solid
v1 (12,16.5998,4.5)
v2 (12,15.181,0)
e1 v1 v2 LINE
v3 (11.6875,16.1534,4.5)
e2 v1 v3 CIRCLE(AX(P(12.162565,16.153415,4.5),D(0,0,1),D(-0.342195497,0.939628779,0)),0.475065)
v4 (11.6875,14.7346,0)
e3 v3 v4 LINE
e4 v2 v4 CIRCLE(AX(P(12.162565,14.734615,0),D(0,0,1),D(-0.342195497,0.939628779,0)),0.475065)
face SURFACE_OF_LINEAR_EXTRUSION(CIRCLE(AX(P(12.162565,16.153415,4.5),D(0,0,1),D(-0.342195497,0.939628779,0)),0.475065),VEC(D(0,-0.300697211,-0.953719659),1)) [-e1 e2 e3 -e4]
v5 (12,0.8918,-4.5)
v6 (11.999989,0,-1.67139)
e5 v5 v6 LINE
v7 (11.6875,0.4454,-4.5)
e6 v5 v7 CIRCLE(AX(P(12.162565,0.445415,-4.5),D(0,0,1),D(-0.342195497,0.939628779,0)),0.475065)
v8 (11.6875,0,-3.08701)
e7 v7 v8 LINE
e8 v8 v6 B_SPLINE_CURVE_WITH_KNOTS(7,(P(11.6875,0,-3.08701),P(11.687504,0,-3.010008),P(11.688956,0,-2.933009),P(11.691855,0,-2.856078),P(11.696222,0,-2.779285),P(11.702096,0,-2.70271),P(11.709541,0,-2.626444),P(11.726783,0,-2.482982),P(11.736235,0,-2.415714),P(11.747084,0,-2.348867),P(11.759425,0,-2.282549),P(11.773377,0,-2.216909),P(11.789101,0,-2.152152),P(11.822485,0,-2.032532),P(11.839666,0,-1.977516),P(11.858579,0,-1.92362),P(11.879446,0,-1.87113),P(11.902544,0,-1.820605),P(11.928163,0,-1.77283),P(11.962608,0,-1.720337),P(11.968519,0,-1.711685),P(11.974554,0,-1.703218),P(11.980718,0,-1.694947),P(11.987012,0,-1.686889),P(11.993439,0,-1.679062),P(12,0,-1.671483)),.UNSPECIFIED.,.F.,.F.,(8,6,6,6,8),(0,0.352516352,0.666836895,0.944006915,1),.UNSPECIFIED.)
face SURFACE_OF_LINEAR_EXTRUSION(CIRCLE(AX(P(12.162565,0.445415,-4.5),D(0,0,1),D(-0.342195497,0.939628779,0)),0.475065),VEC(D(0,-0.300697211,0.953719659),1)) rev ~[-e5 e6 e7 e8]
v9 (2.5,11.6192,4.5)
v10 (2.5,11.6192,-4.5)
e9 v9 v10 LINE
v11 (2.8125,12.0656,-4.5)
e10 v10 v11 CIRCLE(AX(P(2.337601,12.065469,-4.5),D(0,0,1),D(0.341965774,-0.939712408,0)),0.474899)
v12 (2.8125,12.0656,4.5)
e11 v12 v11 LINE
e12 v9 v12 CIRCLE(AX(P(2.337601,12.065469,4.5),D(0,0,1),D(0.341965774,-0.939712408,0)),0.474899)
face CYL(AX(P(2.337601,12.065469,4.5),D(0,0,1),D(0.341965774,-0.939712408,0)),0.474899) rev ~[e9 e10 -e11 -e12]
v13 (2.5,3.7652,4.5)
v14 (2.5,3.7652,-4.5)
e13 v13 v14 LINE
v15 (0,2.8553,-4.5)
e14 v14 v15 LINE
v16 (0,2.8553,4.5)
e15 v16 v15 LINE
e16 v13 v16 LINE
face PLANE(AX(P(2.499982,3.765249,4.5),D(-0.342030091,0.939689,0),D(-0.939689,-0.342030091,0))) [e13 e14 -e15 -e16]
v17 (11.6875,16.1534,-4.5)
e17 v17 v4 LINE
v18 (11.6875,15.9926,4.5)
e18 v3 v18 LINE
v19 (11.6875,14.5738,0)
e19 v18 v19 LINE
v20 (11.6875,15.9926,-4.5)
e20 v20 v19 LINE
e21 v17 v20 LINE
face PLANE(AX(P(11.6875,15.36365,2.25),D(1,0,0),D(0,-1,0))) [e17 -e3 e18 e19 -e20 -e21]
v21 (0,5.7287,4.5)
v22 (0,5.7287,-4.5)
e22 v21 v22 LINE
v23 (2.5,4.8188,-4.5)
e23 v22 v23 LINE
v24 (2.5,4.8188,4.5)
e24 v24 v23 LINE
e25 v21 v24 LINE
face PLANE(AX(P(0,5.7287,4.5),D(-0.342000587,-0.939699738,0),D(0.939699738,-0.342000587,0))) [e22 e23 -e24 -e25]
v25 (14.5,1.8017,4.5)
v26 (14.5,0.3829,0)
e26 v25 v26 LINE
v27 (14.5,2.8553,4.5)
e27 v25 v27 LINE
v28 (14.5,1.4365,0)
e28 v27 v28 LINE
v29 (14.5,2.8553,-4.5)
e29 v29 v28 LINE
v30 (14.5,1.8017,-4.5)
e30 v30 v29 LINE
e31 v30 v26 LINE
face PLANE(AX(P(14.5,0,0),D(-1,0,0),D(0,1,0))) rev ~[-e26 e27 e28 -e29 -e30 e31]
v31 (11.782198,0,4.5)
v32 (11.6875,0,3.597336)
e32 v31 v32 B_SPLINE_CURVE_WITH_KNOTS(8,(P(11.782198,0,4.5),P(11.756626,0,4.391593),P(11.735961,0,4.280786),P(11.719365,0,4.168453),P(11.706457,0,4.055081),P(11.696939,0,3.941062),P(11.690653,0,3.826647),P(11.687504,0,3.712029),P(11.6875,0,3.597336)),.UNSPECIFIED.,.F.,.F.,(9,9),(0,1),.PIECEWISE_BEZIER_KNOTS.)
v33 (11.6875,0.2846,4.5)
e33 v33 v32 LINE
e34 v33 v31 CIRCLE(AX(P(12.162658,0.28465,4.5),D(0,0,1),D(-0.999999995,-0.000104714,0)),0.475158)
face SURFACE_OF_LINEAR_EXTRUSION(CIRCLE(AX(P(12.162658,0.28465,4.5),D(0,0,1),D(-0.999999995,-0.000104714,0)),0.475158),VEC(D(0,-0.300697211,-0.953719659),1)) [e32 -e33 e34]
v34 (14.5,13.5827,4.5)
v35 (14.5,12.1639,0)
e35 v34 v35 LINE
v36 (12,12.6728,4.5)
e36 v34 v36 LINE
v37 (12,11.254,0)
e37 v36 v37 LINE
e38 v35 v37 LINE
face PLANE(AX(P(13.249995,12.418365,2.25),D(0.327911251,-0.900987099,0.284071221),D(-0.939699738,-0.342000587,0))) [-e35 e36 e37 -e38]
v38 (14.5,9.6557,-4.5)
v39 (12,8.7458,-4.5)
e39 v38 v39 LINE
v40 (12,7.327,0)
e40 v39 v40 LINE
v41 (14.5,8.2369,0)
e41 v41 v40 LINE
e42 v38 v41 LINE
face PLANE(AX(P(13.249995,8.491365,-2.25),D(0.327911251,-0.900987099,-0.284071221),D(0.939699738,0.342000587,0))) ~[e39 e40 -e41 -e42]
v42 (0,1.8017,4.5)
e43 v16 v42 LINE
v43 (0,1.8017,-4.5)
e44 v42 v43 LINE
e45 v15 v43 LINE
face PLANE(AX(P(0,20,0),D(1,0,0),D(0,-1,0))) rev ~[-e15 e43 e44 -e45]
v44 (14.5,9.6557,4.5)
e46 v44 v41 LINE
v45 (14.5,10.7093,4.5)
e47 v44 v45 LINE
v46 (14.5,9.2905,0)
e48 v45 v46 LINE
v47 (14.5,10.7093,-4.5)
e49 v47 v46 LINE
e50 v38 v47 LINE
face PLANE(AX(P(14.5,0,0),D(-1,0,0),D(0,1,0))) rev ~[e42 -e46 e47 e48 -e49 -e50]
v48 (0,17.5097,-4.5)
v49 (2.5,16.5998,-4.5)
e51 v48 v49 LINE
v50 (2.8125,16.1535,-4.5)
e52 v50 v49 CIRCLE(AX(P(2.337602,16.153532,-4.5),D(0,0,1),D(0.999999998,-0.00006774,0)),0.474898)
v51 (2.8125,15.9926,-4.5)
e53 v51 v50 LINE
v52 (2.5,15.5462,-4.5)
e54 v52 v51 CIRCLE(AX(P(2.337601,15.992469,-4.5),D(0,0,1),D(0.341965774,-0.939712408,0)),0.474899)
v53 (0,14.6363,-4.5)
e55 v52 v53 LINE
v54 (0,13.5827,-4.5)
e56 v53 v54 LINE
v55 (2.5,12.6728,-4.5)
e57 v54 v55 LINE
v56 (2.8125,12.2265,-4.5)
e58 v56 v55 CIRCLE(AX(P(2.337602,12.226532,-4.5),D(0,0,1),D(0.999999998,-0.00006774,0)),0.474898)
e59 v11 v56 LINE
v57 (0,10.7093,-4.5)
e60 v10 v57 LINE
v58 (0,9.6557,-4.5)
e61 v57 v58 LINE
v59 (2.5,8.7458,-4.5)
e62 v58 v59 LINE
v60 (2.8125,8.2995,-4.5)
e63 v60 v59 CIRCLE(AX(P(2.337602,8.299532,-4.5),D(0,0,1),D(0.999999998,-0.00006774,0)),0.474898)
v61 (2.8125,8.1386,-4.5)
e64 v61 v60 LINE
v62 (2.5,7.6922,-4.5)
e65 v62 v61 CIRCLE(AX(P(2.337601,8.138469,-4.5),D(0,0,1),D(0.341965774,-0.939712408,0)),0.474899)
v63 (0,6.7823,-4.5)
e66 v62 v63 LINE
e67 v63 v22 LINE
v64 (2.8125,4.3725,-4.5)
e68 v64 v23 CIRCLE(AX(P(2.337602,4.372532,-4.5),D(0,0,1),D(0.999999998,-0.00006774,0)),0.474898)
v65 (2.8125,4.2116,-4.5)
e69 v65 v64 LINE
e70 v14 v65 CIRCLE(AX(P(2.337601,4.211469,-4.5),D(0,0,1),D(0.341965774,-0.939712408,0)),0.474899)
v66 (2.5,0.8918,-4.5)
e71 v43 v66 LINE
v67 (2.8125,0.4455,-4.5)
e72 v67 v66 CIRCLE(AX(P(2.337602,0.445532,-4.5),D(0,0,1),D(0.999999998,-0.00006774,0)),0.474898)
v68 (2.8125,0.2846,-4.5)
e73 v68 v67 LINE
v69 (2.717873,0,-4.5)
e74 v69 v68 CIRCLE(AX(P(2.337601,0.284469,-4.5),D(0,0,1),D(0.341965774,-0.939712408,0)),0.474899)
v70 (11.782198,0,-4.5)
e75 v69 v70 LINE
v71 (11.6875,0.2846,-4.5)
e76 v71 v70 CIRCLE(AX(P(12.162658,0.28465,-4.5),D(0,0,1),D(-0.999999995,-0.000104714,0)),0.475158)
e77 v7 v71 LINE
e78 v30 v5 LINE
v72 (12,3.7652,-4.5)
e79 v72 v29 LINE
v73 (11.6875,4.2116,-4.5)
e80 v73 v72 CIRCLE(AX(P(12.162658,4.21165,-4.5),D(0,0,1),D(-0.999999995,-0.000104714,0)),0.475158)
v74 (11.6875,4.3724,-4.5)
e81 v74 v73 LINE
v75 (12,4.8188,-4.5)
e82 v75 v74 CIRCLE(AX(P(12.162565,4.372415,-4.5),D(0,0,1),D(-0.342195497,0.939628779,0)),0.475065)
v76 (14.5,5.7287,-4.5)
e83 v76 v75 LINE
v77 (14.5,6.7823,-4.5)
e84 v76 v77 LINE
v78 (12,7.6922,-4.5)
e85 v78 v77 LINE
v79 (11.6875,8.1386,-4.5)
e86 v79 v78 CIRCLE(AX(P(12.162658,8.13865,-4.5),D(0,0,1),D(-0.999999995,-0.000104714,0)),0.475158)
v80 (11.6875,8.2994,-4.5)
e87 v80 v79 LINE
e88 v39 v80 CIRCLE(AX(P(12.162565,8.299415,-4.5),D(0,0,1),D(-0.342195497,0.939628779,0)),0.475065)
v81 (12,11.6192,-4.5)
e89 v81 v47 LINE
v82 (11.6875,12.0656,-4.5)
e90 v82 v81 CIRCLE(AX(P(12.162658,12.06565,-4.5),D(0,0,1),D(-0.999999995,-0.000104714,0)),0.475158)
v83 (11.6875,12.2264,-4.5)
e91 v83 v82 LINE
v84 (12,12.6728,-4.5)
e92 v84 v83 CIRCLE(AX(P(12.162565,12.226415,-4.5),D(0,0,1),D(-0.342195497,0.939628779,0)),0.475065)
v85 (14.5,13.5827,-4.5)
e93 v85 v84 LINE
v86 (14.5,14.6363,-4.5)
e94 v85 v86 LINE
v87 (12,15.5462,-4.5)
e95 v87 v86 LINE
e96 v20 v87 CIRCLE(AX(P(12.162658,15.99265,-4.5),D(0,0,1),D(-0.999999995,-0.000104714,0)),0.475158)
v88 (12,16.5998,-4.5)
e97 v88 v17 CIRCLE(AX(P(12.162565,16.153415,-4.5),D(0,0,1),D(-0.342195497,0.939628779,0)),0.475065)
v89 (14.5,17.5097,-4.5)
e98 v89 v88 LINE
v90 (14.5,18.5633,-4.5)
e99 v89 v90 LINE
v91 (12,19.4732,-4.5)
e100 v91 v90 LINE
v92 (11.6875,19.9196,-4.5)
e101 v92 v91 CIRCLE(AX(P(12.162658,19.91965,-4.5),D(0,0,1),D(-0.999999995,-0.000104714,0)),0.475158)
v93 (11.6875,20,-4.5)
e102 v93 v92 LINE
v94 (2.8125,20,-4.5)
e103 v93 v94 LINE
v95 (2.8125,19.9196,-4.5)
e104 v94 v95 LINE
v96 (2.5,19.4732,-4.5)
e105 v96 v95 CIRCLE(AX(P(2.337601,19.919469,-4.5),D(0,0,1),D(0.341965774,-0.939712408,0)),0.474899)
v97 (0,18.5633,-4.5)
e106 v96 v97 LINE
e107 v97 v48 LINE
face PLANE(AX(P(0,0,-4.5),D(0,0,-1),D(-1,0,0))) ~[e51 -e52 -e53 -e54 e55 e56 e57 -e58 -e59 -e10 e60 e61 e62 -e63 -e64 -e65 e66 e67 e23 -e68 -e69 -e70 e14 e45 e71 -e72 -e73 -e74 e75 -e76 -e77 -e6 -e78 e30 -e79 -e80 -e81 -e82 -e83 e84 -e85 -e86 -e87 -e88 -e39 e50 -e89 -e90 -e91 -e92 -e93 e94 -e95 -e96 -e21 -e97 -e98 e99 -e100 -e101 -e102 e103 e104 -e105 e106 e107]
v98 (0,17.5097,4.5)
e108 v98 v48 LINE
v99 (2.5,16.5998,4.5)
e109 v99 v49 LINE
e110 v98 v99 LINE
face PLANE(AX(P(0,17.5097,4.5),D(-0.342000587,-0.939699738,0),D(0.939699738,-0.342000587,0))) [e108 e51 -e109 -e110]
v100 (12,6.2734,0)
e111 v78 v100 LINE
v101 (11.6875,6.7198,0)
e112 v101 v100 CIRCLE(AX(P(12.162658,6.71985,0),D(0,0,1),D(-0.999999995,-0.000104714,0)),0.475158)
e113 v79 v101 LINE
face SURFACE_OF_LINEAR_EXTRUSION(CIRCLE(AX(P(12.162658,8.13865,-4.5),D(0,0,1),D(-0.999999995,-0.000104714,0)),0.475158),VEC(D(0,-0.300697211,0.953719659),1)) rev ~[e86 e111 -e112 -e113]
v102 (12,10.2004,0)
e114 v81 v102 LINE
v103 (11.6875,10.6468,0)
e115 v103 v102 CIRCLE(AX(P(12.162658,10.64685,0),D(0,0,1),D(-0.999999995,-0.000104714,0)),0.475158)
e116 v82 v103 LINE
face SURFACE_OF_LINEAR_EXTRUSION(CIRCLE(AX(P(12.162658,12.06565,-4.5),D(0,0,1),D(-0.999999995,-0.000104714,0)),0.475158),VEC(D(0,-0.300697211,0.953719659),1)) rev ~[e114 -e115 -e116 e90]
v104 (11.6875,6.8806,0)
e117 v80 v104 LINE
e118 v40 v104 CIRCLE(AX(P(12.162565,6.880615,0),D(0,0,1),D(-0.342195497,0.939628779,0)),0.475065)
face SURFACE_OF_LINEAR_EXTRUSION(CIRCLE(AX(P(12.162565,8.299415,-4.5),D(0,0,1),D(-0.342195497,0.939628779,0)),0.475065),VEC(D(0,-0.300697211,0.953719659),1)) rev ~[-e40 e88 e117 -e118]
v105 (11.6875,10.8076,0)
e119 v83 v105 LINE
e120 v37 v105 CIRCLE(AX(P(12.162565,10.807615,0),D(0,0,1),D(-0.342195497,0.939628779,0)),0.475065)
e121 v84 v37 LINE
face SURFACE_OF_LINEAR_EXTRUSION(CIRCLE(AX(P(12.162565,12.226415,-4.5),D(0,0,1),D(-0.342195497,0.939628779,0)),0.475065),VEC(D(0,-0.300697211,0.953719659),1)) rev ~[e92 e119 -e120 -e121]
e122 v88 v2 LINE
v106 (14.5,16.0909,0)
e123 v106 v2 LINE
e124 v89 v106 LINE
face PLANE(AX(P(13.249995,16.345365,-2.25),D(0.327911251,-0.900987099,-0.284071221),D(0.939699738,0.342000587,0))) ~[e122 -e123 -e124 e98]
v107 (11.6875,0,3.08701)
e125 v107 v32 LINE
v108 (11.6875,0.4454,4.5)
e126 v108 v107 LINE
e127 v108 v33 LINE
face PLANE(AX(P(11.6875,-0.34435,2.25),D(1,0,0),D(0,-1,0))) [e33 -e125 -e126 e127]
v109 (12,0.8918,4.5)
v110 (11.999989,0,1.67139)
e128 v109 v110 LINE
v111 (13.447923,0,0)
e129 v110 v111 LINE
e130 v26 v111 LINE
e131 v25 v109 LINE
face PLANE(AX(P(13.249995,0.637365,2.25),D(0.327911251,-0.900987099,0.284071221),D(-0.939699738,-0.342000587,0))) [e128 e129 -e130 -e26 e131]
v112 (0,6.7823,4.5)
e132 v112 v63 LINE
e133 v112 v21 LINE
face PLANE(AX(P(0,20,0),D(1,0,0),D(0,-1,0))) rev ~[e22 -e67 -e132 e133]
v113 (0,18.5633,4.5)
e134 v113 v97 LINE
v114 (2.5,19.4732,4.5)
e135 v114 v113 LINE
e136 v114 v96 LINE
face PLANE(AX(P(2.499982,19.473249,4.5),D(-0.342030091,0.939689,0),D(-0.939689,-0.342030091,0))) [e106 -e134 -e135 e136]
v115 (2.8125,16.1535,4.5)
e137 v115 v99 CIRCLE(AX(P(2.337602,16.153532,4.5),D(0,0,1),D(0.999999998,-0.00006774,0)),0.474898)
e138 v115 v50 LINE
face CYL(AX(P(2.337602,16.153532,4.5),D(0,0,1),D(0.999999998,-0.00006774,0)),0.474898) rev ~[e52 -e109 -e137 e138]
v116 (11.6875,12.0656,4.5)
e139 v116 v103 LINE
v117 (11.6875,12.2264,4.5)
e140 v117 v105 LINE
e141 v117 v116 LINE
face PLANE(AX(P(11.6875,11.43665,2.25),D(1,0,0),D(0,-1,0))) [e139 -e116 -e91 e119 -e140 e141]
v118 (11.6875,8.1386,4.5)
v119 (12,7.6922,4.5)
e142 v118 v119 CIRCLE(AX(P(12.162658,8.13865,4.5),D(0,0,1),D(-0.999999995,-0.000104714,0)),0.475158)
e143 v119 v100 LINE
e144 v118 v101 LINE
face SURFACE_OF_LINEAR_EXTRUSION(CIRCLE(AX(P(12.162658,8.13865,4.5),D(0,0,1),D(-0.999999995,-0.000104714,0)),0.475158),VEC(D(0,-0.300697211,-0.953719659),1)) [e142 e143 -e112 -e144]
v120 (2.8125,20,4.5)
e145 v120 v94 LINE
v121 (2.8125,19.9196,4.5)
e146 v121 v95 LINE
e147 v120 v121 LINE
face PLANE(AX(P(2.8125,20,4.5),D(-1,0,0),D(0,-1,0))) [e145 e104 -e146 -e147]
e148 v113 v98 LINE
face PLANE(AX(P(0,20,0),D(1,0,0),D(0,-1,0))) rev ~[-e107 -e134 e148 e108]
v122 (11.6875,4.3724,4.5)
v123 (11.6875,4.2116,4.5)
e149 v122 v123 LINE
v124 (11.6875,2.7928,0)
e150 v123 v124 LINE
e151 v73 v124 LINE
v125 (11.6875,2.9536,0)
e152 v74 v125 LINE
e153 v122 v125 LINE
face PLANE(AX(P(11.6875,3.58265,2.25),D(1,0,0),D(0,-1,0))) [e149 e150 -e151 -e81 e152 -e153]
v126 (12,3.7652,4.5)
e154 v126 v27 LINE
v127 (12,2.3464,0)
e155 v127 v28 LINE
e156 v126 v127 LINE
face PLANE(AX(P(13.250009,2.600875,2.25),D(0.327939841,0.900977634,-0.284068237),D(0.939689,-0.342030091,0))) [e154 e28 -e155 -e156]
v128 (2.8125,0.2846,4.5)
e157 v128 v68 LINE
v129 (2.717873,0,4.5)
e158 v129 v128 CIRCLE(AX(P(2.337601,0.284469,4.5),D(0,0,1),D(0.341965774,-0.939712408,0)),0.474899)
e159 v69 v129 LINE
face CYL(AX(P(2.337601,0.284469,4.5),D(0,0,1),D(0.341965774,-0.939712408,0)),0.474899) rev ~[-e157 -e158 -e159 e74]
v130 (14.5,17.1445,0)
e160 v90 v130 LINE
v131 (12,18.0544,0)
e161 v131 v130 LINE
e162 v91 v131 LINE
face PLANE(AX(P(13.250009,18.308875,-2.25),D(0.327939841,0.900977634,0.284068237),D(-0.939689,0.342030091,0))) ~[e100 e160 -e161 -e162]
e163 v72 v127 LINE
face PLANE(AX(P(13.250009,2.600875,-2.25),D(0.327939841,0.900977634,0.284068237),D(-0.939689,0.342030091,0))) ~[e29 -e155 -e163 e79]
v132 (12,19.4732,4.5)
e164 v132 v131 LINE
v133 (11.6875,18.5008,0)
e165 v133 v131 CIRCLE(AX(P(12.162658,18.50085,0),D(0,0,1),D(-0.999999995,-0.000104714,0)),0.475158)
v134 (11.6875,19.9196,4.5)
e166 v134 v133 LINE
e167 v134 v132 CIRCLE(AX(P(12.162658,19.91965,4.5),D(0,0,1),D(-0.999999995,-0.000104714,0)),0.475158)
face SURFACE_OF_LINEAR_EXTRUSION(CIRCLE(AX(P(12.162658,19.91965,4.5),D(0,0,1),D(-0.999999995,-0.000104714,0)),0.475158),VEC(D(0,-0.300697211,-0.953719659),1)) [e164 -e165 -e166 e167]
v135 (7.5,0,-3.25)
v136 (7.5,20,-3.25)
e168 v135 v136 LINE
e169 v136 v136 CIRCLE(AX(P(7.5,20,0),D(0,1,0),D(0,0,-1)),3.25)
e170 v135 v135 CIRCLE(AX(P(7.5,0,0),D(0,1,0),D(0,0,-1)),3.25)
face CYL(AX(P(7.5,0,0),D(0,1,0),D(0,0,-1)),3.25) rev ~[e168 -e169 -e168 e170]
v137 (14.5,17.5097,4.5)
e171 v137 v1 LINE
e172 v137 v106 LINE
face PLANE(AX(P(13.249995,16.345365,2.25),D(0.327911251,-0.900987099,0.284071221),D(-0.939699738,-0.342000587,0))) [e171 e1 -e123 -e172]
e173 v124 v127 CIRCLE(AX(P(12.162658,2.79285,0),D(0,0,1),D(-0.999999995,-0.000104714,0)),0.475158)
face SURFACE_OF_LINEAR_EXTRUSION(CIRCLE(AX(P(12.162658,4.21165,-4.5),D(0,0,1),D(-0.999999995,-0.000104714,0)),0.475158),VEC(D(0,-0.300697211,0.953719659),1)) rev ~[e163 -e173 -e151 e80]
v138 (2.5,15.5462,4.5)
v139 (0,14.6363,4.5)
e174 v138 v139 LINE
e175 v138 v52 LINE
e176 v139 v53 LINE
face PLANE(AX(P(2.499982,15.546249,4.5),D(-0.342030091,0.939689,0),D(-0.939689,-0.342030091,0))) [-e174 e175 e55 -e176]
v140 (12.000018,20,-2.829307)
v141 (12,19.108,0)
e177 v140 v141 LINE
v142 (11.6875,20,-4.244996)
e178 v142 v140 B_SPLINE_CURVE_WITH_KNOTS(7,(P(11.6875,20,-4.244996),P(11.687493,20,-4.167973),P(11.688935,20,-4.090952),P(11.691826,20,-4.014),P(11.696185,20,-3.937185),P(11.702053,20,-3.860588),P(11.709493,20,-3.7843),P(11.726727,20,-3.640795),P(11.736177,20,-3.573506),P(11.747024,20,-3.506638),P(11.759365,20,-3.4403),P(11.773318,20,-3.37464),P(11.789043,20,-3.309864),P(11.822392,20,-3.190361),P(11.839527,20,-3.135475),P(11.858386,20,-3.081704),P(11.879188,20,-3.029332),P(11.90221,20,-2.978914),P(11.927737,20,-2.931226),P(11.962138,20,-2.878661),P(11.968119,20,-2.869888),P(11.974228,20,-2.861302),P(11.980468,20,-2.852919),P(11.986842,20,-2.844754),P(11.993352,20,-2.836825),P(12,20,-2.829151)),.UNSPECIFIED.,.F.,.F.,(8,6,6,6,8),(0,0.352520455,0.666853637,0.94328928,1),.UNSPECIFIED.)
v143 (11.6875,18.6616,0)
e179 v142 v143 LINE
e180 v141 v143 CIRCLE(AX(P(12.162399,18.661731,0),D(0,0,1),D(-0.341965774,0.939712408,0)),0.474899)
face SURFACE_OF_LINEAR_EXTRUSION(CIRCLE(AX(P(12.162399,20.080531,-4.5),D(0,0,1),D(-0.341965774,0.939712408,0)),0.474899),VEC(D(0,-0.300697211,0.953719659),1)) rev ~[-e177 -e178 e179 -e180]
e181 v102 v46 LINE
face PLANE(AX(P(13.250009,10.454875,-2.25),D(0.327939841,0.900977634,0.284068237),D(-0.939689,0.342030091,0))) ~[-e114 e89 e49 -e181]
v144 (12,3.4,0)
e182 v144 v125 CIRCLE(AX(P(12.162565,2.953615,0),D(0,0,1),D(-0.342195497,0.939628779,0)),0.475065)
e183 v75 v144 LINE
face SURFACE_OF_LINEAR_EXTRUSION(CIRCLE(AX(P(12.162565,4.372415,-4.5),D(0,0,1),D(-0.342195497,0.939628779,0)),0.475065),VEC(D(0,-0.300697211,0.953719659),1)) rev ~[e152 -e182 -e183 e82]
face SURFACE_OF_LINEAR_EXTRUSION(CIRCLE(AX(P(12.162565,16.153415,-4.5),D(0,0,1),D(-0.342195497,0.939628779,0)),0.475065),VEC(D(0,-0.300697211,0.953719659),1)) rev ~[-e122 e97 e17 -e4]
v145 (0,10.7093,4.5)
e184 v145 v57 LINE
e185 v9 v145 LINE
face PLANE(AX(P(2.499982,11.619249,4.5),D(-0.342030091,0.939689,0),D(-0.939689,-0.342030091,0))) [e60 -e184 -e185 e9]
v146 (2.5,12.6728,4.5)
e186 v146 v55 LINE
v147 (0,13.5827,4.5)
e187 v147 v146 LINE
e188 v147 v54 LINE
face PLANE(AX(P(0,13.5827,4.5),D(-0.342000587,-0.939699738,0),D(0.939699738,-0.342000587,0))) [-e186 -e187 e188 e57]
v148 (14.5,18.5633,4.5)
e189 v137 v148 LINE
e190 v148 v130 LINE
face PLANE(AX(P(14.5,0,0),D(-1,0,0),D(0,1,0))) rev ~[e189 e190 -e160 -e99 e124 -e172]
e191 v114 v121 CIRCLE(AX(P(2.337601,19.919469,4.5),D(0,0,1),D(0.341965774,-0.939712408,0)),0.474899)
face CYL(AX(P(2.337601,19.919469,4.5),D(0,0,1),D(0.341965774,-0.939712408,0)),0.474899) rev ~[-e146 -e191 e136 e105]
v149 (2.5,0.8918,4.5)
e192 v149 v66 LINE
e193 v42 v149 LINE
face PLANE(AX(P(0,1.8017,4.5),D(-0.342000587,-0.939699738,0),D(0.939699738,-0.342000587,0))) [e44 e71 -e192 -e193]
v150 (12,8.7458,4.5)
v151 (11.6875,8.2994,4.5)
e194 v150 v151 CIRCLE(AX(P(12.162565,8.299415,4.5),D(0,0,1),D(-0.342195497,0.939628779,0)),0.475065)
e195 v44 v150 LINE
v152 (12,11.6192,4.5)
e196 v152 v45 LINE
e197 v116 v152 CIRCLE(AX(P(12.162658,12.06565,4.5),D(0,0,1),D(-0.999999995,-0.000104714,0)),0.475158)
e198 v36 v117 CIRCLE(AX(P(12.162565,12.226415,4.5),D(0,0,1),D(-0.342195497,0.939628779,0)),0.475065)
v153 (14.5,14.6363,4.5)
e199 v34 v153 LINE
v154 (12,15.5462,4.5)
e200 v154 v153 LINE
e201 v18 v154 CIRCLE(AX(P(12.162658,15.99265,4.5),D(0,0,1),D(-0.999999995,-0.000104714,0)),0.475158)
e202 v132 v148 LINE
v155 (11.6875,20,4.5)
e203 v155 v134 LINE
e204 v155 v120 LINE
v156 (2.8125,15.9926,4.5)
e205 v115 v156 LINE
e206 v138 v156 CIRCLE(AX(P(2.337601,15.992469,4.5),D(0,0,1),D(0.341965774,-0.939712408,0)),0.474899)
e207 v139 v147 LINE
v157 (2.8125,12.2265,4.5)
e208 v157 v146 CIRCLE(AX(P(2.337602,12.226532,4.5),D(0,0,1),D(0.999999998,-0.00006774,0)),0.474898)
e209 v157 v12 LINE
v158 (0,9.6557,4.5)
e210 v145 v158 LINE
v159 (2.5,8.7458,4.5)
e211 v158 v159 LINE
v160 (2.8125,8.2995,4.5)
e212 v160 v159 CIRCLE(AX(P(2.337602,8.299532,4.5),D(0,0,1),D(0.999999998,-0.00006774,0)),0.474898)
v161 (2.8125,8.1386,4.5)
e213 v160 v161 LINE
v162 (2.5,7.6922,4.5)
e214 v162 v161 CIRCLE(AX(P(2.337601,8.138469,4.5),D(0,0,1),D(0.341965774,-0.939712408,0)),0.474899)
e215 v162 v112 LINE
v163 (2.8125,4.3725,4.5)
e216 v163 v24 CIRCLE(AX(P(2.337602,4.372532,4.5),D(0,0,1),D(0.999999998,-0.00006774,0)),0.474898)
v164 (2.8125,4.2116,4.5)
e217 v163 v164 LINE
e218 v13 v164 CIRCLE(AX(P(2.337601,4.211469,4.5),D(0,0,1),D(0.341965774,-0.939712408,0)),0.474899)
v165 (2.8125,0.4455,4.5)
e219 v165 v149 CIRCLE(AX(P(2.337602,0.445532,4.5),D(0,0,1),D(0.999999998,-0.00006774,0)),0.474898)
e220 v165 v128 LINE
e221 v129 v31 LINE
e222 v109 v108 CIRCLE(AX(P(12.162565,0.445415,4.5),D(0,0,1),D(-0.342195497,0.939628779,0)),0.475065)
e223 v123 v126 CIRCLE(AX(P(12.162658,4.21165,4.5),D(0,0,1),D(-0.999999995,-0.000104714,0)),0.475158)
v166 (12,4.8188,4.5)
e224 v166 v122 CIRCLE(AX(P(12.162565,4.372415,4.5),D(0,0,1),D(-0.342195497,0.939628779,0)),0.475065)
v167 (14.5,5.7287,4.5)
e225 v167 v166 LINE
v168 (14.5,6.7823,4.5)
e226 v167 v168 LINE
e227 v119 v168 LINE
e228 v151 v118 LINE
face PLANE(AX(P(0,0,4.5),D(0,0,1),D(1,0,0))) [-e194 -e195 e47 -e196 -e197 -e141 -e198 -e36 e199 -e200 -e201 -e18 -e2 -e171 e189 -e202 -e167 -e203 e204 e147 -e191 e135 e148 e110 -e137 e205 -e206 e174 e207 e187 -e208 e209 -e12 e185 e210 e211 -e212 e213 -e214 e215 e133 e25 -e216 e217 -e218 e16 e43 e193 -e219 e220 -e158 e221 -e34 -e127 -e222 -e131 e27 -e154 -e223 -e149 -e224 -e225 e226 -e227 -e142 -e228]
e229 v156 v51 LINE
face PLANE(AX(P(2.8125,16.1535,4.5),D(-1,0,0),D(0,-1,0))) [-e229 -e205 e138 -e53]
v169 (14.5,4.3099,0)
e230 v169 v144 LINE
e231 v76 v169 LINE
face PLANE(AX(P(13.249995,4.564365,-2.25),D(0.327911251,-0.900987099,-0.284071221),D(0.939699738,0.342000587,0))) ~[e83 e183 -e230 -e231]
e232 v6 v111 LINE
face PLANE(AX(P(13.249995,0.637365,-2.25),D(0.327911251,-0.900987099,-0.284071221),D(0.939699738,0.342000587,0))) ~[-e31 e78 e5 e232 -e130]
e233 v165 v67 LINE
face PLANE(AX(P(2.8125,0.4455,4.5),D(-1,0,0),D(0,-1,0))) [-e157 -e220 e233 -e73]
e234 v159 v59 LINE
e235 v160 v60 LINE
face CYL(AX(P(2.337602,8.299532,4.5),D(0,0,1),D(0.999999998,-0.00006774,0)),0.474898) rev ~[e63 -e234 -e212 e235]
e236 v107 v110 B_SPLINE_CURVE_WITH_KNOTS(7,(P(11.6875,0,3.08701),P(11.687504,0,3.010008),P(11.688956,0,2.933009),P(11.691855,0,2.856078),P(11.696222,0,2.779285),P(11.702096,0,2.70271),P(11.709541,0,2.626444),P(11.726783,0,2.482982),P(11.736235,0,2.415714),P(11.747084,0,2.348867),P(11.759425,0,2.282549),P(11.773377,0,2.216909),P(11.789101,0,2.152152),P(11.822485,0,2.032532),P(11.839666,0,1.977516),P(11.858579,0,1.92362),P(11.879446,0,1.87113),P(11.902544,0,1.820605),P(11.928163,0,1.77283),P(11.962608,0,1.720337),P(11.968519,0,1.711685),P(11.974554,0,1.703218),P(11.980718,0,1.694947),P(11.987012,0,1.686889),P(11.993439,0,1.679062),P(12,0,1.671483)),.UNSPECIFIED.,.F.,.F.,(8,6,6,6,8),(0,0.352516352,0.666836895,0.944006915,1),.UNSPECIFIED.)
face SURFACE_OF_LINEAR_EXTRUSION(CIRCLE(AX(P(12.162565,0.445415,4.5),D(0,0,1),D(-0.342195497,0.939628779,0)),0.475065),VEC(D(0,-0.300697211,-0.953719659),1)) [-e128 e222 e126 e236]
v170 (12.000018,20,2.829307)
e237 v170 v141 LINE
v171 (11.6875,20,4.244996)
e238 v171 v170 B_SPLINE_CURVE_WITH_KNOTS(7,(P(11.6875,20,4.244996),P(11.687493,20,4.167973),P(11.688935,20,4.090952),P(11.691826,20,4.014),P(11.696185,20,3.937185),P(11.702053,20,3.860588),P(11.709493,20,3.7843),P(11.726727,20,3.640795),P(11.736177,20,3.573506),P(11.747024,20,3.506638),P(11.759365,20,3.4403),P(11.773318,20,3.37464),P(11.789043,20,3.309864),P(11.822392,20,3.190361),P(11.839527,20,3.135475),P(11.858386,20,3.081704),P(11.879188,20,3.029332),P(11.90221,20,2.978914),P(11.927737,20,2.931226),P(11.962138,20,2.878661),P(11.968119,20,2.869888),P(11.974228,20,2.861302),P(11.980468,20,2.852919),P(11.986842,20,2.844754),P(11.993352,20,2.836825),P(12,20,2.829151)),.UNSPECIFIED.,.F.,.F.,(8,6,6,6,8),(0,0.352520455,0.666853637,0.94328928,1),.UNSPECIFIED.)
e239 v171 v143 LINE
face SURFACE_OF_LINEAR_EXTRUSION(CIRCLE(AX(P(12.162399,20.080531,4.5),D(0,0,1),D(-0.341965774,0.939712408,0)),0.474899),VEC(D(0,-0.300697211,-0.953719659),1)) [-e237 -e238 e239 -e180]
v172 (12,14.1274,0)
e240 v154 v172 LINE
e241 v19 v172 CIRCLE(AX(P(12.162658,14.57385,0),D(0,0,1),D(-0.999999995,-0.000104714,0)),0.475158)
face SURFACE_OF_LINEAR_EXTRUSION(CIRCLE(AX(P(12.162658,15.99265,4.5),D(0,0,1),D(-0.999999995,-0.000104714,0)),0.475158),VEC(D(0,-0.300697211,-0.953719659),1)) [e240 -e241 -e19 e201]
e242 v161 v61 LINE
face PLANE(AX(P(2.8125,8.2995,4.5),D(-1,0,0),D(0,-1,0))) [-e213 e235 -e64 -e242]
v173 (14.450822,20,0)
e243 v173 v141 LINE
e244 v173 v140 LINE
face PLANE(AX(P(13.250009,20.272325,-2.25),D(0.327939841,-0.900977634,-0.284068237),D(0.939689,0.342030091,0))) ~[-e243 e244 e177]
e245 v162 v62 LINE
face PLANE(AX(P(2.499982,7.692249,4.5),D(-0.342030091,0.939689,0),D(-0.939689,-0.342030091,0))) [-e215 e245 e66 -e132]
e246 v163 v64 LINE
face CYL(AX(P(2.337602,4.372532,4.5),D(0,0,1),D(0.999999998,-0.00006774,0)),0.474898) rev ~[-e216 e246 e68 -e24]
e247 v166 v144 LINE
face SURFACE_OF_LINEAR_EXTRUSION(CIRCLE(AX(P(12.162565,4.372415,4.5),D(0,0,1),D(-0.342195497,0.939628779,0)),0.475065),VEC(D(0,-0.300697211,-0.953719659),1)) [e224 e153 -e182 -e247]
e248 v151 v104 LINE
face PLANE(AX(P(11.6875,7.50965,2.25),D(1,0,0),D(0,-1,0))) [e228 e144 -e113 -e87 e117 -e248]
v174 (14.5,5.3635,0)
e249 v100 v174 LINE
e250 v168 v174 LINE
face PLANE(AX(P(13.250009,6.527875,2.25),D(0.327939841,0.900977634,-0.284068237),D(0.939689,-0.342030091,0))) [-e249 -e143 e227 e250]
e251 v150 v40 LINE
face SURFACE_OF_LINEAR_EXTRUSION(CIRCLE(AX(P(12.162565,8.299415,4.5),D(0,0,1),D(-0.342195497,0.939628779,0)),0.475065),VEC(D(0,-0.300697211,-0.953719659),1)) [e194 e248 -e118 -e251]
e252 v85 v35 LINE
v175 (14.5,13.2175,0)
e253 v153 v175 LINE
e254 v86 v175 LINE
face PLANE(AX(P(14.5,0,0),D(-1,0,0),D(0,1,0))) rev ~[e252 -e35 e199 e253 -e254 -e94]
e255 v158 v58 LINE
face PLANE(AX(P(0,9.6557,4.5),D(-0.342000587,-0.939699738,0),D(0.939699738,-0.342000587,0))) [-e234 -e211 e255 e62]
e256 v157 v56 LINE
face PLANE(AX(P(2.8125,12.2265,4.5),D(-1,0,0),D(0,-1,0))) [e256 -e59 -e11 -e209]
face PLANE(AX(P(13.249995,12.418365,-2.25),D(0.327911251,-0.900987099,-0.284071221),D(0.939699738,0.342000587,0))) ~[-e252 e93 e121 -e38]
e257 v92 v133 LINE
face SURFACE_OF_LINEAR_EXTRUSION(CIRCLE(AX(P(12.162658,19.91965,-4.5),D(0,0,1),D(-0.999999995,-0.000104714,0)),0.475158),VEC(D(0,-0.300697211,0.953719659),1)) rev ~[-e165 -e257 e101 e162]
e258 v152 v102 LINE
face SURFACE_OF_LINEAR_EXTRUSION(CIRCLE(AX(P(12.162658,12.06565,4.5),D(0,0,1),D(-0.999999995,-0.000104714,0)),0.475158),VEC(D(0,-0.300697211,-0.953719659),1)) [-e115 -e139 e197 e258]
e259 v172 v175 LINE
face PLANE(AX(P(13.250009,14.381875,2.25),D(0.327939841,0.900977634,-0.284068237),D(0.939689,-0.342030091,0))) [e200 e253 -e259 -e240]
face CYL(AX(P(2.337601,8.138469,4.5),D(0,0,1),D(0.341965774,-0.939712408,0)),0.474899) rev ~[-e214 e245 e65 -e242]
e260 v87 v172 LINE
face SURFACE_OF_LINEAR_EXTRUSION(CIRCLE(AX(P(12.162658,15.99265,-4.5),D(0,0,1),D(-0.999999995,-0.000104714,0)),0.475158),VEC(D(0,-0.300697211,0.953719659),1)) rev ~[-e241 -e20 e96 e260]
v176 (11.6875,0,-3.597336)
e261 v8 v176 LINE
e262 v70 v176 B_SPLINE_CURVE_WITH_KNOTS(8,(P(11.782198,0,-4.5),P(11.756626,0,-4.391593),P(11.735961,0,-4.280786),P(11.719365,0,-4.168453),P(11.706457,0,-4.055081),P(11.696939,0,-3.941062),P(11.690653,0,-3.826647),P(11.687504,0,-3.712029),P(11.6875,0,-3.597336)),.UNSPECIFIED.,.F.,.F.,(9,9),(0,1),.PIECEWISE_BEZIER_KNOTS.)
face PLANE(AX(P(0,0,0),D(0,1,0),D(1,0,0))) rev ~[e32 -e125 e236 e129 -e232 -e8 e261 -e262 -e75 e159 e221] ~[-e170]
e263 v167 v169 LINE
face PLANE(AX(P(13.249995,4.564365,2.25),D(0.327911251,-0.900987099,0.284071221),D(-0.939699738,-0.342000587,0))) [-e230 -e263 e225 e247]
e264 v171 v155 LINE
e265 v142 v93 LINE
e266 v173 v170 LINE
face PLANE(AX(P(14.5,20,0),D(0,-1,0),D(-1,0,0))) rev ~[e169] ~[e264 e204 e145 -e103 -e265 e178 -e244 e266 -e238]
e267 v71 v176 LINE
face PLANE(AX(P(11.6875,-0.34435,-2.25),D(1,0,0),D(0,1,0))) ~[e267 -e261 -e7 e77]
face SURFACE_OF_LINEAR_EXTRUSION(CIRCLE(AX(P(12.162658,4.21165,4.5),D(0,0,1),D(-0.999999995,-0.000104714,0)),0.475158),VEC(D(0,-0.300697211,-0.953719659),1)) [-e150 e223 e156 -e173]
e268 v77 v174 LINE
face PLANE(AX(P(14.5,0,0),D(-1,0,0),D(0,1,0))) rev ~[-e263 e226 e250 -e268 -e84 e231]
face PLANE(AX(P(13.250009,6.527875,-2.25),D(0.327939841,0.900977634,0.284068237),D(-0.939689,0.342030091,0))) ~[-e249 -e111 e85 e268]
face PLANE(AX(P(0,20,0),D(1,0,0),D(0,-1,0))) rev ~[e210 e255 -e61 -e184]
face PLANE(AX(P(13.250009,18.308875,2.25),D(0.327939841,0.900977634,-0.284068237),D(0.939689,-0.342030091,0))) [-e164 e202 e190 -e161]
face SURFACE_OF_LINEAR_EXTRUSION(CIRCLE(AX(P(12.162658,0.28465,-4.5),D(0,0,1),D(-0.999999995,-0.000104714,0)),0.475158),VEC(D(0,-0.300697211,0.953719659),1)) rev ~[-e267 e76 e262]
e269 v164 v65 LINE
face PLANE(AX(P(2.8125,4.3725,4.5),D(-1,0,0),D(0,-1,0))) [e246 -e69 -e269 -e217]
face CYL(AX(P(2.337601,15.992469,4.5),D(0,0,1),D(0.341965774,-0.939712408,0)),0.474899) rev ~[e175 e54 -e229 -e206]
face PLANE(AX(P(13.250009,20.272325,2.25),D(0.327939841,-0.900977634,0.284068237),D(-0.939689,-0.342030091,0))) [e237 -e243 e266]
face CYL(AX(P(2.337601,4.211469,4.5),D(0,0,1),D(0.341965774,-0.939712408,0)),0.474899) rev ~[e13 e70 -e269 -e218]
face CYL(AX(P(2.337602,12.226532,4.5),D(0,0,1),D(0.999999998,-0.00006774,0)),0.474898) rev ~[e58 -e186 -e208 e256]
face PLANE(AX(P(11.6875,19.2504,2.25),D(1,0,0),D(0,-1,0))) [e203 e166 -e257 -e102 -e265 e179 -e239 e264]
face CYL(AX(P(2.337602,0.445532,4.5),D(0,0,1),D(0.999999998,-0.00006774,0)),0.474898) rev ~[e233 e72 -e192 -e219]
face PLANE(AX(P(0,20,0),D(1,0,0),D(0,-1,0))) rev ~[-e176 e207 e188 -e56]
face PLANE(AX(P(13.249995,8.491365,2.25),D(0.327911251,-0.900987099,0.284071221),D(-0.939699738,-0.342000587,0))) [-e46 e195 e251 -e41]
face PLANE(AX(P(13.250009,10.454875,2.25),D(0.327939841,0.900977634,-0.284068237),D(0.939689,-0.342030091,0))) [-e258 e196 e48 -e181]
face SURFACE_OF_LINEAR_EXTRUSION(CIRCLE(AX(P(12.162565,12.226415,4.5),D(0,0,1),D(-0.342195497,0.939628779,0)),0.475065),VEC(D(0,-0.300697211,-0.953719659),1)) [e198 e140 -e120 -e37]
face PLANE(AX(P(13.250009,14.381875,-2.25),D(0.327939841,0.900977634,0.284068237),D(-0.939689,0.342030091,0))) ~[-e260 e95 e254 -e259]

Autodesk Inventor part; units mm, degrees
ref_plane "YZ Plane" through (0, 0, 0) normal (1, 0, 0) x (0, 1, 0)
sketch "Sketch1" plane through (0, 0, 0) normal (0, 0, 1) x (1, 0, 0)
  line L0 (0, 0) -> (14.5, 0)
  line L1 (14.5, 0) -> (14.5, 20)
  line L2 (14.5, 20) -> (0, 20)
  line L3 (0, 20) -> (0, 0)
  dimension "d0" = 14.5
  dimension "d1" = 20
extrude "Extrusion1" add sketch "Sketch1" along normal blind 4.5
sketch "Sketch2" plane through (0, 0, 4.5) normal (0, 0, 1) x (1, 0, 0)
  line L0 (14.5, 0) -> (14.5, 20) projected
  line L1 (14.5, 20) -> (0, 20) projected
  line L2 (0, 20) -> (0, 0) projected
  line L3 (0, 0) -> (14.5, 0) projected
  line L4 (14.5, 0) -> (14.5, 20) projected
  line L5 (14.5, 21.4367) -> (11.6875, 20.413)
  line L6 (11.6875, 20.413) -> (11.6875, 19.587)
  line L7 (11.6875, 19.587) -> (14.5, 18.5633)
  line L8 (14.5, 17.5097) -> (11.6875, 16.4861)
  line L9 (11.6875, 16.4861) -> (11.6875, 15.66)
  line L10 (11.6875, 15.66) -> (14.5, 14.6363)
  arc A0 (12, 20.5268) -> (11.6875, 20.0804) centre (12.1625, 20.0804) ccw
  arc A1 (11.6875, 19.9196) -> (12, 19.4732) centre (12.1625, 19.9196) ccw
  line L11 (14.5, 20) -> (0, 20) projected
  arc A2 (11.6875, 15.9926) -> (12, 15.5462) centre (12.1625, 15.9926) ccw
  arc A3 (12, 16.5998) -> (11.6875, 16.1535) centre (12.1625, 16.1535) ccw
  line L12 (14.5, 21.4367) -> (14.5, 18.5633)
  line L13 (7.25, 20) -> (7.25, 0)
  line L14 (0, 0) -> (14.5, 0) projected
  line L15 (0, 21.4367) -> (2.8125, 20.413)
  line L16 (2.8125, 20.413) -> (2.8125, 19.587)
  line L17 (2.8125, 19.587) -> (0, 18.5633)
  arc A4 (2.8125, 20.0804) -> (2.5, 20.5268) centre (2.3375, 20.0804) ccw
  arc A5 (2.5, 19.4732) -> (2.8125, 19.9196) centre (2.3375, 19.9196) ccw
  line L18 (0, 21.4367) -> (0, 18.5633)
  line L19 (0, 17.5097) -> (2.8125, 16.4861)
  line L20 (2.8125, 16.4861) -> (2.8125, 15.66)
  line L21 (2.8125, 15.66) -> (0, 14.6363)
  arc A6 (2.5, 15.5462) -> (2.8125, 15.9926) centre (2.3375, 15.9926) ccw
  arc A7 (2.8125, 16.1535) -> (2.5, 16.5998) centre (2.3375, 16.1535) ccw
  point P0 (11.6875, 20)
  point P1 (13.25, 19.0183)
  point P2 (13.25, 17.0548)
  point P3 (14.5, 18.5633)
  point P4 (11.6875, 20)
  point P5 (14.5, 17.5097)
  point P6 (14.5, 20)
  point P7 (2.8125, 20)
  point P8 (1.25, 19.0183)
  point P9 (0, 20)
  point P10 (1.25, 17.0548)
  dimension "d14" = 70
  dimension "d15" = 3.927
  dimension "d16" = 0.475
  dimension "d17" = 2.8125
  dimension "d18" = 1.25
  dimension "d19" = 1.9635
ref_plane "Work Plane1" through (13.25, 0, 4.5) normal (1, 0, 0) x (0, 0, -1)
sketch "Sketch3" plane through (14.5, 0, 0) normal (1, 0, 0) x (0, 0, -1)
  line L0 (-4.5, 0) -> (-4.5, 20) projected
  line L1 (-4.5, 20) -> (-4.5, 0) projected
  line L2 (-4.5, 14.6363) -> (0, 13.2175)
  line L3 (0, 0) -> (0, 20) projected
  line L4 (0, 20) -> (-4.5, 20) projected
  dimension "d31" = 17.5
sweep "Sweep1" cut profiles "Sketch2" path "Sketch3" path curves L2 contours L10 A2 L9 A3 L8 L0 | L7 A1 L6 L1 L0 | L6 A0 L5 L12 L1
pattern_linear "Rectangular Pattern2" count 8 spacing 3.927 along (0, -1, 0) of "Sweep1"
mirror "Mirror2" about plane through (7.25, 10, 0) normal (0, 0, -1)
extrude "Extrusion3" cut sketch "Sketch2" against normal through all contours L2 L19 A7 L20 A6 L21 | L16 A5 L17 L2 L1 | L1 L18 L15 A4 L16
pattern_linear "Rectangular Pattern3" count 10 spacing 3.927 along (0, -1, 0) of "Extrusion3"
sketch "Sketch5" plane through (11.6875, 0, 3.0872) normal (0, -1, 0) x (1, 0, 0)
  line L0 (-8.9697, 1.4128) -> (-8.9697, -7.5872) projected
  line L1 (-8.9697, -7.5872) -> (0.0947, -7.5872) projected
  ellipse E0 centre (0.475, -6.6847) end of major axis (0.475, -5.1782) minor radius 0.475 (0, -6.6847) -> (0.0947, -7.5872) ccw projected
  line L2 (0, -6.1744) -> (0, -6.6847) projected
  ellipse E1 centre (0.475, -6.1744) end of major axis (0.475, -7.6809) minor radius 0.475 (0.3125, -4.7587) -> (0, -6.1744) ccw projected
  line L3 (1.7606, -3.0872) -> (0.3125, -4.7587) projected
  line L4 (1.7606, -3.0872) -> (0.3125, -1.4157) projected
  ellipse E2 centre (0.475, 0) end of major axis (0.475, 1.5065) minor radius 0.475 (0, 0) -> (0.3125, -1.4157) ccw projected
  line L5 (0, 0) -> (0, 0.5103) projected
  ellipse E3 centre (0.475, 0.5103) end of major axis (0.475, -0.9962) minor radius 0.475 (0.0947, 1.4128) -> (0, 0.5103) ccw projected
  line L6 (-8.9697, 1.4128) -> (0.0947, 1.4128) projected
  line L7 (-11.6875, -7.5872) -> (-11.6875, 1.4128) projected
  line L8 (2.8125, 1.4128) -> (2.8125, -3.0872) projected
  point P0 (-11.6875, -3.0872)
  point P1 (-4.1875, -3.0872)
  point P2 (-11.6875, -3.0872)
  dimension "d33" = 0
  dimension "d38" = 14.5
  dimension "d39" = 7.5
hole "Hole1" at (7.5, 0, 0) direction (0, 1, 0) diameter 6.5 end through all
ref_plane "Work Plane2" through (1.25, 17.5097, -4.5) normal (-1, 0, 0) x (0, 0, 1)
equation "\"d19\" = 0.5 * d15"
equation "\"d32\" = 20.5deg"
properties part number "rack_3DPrint"
